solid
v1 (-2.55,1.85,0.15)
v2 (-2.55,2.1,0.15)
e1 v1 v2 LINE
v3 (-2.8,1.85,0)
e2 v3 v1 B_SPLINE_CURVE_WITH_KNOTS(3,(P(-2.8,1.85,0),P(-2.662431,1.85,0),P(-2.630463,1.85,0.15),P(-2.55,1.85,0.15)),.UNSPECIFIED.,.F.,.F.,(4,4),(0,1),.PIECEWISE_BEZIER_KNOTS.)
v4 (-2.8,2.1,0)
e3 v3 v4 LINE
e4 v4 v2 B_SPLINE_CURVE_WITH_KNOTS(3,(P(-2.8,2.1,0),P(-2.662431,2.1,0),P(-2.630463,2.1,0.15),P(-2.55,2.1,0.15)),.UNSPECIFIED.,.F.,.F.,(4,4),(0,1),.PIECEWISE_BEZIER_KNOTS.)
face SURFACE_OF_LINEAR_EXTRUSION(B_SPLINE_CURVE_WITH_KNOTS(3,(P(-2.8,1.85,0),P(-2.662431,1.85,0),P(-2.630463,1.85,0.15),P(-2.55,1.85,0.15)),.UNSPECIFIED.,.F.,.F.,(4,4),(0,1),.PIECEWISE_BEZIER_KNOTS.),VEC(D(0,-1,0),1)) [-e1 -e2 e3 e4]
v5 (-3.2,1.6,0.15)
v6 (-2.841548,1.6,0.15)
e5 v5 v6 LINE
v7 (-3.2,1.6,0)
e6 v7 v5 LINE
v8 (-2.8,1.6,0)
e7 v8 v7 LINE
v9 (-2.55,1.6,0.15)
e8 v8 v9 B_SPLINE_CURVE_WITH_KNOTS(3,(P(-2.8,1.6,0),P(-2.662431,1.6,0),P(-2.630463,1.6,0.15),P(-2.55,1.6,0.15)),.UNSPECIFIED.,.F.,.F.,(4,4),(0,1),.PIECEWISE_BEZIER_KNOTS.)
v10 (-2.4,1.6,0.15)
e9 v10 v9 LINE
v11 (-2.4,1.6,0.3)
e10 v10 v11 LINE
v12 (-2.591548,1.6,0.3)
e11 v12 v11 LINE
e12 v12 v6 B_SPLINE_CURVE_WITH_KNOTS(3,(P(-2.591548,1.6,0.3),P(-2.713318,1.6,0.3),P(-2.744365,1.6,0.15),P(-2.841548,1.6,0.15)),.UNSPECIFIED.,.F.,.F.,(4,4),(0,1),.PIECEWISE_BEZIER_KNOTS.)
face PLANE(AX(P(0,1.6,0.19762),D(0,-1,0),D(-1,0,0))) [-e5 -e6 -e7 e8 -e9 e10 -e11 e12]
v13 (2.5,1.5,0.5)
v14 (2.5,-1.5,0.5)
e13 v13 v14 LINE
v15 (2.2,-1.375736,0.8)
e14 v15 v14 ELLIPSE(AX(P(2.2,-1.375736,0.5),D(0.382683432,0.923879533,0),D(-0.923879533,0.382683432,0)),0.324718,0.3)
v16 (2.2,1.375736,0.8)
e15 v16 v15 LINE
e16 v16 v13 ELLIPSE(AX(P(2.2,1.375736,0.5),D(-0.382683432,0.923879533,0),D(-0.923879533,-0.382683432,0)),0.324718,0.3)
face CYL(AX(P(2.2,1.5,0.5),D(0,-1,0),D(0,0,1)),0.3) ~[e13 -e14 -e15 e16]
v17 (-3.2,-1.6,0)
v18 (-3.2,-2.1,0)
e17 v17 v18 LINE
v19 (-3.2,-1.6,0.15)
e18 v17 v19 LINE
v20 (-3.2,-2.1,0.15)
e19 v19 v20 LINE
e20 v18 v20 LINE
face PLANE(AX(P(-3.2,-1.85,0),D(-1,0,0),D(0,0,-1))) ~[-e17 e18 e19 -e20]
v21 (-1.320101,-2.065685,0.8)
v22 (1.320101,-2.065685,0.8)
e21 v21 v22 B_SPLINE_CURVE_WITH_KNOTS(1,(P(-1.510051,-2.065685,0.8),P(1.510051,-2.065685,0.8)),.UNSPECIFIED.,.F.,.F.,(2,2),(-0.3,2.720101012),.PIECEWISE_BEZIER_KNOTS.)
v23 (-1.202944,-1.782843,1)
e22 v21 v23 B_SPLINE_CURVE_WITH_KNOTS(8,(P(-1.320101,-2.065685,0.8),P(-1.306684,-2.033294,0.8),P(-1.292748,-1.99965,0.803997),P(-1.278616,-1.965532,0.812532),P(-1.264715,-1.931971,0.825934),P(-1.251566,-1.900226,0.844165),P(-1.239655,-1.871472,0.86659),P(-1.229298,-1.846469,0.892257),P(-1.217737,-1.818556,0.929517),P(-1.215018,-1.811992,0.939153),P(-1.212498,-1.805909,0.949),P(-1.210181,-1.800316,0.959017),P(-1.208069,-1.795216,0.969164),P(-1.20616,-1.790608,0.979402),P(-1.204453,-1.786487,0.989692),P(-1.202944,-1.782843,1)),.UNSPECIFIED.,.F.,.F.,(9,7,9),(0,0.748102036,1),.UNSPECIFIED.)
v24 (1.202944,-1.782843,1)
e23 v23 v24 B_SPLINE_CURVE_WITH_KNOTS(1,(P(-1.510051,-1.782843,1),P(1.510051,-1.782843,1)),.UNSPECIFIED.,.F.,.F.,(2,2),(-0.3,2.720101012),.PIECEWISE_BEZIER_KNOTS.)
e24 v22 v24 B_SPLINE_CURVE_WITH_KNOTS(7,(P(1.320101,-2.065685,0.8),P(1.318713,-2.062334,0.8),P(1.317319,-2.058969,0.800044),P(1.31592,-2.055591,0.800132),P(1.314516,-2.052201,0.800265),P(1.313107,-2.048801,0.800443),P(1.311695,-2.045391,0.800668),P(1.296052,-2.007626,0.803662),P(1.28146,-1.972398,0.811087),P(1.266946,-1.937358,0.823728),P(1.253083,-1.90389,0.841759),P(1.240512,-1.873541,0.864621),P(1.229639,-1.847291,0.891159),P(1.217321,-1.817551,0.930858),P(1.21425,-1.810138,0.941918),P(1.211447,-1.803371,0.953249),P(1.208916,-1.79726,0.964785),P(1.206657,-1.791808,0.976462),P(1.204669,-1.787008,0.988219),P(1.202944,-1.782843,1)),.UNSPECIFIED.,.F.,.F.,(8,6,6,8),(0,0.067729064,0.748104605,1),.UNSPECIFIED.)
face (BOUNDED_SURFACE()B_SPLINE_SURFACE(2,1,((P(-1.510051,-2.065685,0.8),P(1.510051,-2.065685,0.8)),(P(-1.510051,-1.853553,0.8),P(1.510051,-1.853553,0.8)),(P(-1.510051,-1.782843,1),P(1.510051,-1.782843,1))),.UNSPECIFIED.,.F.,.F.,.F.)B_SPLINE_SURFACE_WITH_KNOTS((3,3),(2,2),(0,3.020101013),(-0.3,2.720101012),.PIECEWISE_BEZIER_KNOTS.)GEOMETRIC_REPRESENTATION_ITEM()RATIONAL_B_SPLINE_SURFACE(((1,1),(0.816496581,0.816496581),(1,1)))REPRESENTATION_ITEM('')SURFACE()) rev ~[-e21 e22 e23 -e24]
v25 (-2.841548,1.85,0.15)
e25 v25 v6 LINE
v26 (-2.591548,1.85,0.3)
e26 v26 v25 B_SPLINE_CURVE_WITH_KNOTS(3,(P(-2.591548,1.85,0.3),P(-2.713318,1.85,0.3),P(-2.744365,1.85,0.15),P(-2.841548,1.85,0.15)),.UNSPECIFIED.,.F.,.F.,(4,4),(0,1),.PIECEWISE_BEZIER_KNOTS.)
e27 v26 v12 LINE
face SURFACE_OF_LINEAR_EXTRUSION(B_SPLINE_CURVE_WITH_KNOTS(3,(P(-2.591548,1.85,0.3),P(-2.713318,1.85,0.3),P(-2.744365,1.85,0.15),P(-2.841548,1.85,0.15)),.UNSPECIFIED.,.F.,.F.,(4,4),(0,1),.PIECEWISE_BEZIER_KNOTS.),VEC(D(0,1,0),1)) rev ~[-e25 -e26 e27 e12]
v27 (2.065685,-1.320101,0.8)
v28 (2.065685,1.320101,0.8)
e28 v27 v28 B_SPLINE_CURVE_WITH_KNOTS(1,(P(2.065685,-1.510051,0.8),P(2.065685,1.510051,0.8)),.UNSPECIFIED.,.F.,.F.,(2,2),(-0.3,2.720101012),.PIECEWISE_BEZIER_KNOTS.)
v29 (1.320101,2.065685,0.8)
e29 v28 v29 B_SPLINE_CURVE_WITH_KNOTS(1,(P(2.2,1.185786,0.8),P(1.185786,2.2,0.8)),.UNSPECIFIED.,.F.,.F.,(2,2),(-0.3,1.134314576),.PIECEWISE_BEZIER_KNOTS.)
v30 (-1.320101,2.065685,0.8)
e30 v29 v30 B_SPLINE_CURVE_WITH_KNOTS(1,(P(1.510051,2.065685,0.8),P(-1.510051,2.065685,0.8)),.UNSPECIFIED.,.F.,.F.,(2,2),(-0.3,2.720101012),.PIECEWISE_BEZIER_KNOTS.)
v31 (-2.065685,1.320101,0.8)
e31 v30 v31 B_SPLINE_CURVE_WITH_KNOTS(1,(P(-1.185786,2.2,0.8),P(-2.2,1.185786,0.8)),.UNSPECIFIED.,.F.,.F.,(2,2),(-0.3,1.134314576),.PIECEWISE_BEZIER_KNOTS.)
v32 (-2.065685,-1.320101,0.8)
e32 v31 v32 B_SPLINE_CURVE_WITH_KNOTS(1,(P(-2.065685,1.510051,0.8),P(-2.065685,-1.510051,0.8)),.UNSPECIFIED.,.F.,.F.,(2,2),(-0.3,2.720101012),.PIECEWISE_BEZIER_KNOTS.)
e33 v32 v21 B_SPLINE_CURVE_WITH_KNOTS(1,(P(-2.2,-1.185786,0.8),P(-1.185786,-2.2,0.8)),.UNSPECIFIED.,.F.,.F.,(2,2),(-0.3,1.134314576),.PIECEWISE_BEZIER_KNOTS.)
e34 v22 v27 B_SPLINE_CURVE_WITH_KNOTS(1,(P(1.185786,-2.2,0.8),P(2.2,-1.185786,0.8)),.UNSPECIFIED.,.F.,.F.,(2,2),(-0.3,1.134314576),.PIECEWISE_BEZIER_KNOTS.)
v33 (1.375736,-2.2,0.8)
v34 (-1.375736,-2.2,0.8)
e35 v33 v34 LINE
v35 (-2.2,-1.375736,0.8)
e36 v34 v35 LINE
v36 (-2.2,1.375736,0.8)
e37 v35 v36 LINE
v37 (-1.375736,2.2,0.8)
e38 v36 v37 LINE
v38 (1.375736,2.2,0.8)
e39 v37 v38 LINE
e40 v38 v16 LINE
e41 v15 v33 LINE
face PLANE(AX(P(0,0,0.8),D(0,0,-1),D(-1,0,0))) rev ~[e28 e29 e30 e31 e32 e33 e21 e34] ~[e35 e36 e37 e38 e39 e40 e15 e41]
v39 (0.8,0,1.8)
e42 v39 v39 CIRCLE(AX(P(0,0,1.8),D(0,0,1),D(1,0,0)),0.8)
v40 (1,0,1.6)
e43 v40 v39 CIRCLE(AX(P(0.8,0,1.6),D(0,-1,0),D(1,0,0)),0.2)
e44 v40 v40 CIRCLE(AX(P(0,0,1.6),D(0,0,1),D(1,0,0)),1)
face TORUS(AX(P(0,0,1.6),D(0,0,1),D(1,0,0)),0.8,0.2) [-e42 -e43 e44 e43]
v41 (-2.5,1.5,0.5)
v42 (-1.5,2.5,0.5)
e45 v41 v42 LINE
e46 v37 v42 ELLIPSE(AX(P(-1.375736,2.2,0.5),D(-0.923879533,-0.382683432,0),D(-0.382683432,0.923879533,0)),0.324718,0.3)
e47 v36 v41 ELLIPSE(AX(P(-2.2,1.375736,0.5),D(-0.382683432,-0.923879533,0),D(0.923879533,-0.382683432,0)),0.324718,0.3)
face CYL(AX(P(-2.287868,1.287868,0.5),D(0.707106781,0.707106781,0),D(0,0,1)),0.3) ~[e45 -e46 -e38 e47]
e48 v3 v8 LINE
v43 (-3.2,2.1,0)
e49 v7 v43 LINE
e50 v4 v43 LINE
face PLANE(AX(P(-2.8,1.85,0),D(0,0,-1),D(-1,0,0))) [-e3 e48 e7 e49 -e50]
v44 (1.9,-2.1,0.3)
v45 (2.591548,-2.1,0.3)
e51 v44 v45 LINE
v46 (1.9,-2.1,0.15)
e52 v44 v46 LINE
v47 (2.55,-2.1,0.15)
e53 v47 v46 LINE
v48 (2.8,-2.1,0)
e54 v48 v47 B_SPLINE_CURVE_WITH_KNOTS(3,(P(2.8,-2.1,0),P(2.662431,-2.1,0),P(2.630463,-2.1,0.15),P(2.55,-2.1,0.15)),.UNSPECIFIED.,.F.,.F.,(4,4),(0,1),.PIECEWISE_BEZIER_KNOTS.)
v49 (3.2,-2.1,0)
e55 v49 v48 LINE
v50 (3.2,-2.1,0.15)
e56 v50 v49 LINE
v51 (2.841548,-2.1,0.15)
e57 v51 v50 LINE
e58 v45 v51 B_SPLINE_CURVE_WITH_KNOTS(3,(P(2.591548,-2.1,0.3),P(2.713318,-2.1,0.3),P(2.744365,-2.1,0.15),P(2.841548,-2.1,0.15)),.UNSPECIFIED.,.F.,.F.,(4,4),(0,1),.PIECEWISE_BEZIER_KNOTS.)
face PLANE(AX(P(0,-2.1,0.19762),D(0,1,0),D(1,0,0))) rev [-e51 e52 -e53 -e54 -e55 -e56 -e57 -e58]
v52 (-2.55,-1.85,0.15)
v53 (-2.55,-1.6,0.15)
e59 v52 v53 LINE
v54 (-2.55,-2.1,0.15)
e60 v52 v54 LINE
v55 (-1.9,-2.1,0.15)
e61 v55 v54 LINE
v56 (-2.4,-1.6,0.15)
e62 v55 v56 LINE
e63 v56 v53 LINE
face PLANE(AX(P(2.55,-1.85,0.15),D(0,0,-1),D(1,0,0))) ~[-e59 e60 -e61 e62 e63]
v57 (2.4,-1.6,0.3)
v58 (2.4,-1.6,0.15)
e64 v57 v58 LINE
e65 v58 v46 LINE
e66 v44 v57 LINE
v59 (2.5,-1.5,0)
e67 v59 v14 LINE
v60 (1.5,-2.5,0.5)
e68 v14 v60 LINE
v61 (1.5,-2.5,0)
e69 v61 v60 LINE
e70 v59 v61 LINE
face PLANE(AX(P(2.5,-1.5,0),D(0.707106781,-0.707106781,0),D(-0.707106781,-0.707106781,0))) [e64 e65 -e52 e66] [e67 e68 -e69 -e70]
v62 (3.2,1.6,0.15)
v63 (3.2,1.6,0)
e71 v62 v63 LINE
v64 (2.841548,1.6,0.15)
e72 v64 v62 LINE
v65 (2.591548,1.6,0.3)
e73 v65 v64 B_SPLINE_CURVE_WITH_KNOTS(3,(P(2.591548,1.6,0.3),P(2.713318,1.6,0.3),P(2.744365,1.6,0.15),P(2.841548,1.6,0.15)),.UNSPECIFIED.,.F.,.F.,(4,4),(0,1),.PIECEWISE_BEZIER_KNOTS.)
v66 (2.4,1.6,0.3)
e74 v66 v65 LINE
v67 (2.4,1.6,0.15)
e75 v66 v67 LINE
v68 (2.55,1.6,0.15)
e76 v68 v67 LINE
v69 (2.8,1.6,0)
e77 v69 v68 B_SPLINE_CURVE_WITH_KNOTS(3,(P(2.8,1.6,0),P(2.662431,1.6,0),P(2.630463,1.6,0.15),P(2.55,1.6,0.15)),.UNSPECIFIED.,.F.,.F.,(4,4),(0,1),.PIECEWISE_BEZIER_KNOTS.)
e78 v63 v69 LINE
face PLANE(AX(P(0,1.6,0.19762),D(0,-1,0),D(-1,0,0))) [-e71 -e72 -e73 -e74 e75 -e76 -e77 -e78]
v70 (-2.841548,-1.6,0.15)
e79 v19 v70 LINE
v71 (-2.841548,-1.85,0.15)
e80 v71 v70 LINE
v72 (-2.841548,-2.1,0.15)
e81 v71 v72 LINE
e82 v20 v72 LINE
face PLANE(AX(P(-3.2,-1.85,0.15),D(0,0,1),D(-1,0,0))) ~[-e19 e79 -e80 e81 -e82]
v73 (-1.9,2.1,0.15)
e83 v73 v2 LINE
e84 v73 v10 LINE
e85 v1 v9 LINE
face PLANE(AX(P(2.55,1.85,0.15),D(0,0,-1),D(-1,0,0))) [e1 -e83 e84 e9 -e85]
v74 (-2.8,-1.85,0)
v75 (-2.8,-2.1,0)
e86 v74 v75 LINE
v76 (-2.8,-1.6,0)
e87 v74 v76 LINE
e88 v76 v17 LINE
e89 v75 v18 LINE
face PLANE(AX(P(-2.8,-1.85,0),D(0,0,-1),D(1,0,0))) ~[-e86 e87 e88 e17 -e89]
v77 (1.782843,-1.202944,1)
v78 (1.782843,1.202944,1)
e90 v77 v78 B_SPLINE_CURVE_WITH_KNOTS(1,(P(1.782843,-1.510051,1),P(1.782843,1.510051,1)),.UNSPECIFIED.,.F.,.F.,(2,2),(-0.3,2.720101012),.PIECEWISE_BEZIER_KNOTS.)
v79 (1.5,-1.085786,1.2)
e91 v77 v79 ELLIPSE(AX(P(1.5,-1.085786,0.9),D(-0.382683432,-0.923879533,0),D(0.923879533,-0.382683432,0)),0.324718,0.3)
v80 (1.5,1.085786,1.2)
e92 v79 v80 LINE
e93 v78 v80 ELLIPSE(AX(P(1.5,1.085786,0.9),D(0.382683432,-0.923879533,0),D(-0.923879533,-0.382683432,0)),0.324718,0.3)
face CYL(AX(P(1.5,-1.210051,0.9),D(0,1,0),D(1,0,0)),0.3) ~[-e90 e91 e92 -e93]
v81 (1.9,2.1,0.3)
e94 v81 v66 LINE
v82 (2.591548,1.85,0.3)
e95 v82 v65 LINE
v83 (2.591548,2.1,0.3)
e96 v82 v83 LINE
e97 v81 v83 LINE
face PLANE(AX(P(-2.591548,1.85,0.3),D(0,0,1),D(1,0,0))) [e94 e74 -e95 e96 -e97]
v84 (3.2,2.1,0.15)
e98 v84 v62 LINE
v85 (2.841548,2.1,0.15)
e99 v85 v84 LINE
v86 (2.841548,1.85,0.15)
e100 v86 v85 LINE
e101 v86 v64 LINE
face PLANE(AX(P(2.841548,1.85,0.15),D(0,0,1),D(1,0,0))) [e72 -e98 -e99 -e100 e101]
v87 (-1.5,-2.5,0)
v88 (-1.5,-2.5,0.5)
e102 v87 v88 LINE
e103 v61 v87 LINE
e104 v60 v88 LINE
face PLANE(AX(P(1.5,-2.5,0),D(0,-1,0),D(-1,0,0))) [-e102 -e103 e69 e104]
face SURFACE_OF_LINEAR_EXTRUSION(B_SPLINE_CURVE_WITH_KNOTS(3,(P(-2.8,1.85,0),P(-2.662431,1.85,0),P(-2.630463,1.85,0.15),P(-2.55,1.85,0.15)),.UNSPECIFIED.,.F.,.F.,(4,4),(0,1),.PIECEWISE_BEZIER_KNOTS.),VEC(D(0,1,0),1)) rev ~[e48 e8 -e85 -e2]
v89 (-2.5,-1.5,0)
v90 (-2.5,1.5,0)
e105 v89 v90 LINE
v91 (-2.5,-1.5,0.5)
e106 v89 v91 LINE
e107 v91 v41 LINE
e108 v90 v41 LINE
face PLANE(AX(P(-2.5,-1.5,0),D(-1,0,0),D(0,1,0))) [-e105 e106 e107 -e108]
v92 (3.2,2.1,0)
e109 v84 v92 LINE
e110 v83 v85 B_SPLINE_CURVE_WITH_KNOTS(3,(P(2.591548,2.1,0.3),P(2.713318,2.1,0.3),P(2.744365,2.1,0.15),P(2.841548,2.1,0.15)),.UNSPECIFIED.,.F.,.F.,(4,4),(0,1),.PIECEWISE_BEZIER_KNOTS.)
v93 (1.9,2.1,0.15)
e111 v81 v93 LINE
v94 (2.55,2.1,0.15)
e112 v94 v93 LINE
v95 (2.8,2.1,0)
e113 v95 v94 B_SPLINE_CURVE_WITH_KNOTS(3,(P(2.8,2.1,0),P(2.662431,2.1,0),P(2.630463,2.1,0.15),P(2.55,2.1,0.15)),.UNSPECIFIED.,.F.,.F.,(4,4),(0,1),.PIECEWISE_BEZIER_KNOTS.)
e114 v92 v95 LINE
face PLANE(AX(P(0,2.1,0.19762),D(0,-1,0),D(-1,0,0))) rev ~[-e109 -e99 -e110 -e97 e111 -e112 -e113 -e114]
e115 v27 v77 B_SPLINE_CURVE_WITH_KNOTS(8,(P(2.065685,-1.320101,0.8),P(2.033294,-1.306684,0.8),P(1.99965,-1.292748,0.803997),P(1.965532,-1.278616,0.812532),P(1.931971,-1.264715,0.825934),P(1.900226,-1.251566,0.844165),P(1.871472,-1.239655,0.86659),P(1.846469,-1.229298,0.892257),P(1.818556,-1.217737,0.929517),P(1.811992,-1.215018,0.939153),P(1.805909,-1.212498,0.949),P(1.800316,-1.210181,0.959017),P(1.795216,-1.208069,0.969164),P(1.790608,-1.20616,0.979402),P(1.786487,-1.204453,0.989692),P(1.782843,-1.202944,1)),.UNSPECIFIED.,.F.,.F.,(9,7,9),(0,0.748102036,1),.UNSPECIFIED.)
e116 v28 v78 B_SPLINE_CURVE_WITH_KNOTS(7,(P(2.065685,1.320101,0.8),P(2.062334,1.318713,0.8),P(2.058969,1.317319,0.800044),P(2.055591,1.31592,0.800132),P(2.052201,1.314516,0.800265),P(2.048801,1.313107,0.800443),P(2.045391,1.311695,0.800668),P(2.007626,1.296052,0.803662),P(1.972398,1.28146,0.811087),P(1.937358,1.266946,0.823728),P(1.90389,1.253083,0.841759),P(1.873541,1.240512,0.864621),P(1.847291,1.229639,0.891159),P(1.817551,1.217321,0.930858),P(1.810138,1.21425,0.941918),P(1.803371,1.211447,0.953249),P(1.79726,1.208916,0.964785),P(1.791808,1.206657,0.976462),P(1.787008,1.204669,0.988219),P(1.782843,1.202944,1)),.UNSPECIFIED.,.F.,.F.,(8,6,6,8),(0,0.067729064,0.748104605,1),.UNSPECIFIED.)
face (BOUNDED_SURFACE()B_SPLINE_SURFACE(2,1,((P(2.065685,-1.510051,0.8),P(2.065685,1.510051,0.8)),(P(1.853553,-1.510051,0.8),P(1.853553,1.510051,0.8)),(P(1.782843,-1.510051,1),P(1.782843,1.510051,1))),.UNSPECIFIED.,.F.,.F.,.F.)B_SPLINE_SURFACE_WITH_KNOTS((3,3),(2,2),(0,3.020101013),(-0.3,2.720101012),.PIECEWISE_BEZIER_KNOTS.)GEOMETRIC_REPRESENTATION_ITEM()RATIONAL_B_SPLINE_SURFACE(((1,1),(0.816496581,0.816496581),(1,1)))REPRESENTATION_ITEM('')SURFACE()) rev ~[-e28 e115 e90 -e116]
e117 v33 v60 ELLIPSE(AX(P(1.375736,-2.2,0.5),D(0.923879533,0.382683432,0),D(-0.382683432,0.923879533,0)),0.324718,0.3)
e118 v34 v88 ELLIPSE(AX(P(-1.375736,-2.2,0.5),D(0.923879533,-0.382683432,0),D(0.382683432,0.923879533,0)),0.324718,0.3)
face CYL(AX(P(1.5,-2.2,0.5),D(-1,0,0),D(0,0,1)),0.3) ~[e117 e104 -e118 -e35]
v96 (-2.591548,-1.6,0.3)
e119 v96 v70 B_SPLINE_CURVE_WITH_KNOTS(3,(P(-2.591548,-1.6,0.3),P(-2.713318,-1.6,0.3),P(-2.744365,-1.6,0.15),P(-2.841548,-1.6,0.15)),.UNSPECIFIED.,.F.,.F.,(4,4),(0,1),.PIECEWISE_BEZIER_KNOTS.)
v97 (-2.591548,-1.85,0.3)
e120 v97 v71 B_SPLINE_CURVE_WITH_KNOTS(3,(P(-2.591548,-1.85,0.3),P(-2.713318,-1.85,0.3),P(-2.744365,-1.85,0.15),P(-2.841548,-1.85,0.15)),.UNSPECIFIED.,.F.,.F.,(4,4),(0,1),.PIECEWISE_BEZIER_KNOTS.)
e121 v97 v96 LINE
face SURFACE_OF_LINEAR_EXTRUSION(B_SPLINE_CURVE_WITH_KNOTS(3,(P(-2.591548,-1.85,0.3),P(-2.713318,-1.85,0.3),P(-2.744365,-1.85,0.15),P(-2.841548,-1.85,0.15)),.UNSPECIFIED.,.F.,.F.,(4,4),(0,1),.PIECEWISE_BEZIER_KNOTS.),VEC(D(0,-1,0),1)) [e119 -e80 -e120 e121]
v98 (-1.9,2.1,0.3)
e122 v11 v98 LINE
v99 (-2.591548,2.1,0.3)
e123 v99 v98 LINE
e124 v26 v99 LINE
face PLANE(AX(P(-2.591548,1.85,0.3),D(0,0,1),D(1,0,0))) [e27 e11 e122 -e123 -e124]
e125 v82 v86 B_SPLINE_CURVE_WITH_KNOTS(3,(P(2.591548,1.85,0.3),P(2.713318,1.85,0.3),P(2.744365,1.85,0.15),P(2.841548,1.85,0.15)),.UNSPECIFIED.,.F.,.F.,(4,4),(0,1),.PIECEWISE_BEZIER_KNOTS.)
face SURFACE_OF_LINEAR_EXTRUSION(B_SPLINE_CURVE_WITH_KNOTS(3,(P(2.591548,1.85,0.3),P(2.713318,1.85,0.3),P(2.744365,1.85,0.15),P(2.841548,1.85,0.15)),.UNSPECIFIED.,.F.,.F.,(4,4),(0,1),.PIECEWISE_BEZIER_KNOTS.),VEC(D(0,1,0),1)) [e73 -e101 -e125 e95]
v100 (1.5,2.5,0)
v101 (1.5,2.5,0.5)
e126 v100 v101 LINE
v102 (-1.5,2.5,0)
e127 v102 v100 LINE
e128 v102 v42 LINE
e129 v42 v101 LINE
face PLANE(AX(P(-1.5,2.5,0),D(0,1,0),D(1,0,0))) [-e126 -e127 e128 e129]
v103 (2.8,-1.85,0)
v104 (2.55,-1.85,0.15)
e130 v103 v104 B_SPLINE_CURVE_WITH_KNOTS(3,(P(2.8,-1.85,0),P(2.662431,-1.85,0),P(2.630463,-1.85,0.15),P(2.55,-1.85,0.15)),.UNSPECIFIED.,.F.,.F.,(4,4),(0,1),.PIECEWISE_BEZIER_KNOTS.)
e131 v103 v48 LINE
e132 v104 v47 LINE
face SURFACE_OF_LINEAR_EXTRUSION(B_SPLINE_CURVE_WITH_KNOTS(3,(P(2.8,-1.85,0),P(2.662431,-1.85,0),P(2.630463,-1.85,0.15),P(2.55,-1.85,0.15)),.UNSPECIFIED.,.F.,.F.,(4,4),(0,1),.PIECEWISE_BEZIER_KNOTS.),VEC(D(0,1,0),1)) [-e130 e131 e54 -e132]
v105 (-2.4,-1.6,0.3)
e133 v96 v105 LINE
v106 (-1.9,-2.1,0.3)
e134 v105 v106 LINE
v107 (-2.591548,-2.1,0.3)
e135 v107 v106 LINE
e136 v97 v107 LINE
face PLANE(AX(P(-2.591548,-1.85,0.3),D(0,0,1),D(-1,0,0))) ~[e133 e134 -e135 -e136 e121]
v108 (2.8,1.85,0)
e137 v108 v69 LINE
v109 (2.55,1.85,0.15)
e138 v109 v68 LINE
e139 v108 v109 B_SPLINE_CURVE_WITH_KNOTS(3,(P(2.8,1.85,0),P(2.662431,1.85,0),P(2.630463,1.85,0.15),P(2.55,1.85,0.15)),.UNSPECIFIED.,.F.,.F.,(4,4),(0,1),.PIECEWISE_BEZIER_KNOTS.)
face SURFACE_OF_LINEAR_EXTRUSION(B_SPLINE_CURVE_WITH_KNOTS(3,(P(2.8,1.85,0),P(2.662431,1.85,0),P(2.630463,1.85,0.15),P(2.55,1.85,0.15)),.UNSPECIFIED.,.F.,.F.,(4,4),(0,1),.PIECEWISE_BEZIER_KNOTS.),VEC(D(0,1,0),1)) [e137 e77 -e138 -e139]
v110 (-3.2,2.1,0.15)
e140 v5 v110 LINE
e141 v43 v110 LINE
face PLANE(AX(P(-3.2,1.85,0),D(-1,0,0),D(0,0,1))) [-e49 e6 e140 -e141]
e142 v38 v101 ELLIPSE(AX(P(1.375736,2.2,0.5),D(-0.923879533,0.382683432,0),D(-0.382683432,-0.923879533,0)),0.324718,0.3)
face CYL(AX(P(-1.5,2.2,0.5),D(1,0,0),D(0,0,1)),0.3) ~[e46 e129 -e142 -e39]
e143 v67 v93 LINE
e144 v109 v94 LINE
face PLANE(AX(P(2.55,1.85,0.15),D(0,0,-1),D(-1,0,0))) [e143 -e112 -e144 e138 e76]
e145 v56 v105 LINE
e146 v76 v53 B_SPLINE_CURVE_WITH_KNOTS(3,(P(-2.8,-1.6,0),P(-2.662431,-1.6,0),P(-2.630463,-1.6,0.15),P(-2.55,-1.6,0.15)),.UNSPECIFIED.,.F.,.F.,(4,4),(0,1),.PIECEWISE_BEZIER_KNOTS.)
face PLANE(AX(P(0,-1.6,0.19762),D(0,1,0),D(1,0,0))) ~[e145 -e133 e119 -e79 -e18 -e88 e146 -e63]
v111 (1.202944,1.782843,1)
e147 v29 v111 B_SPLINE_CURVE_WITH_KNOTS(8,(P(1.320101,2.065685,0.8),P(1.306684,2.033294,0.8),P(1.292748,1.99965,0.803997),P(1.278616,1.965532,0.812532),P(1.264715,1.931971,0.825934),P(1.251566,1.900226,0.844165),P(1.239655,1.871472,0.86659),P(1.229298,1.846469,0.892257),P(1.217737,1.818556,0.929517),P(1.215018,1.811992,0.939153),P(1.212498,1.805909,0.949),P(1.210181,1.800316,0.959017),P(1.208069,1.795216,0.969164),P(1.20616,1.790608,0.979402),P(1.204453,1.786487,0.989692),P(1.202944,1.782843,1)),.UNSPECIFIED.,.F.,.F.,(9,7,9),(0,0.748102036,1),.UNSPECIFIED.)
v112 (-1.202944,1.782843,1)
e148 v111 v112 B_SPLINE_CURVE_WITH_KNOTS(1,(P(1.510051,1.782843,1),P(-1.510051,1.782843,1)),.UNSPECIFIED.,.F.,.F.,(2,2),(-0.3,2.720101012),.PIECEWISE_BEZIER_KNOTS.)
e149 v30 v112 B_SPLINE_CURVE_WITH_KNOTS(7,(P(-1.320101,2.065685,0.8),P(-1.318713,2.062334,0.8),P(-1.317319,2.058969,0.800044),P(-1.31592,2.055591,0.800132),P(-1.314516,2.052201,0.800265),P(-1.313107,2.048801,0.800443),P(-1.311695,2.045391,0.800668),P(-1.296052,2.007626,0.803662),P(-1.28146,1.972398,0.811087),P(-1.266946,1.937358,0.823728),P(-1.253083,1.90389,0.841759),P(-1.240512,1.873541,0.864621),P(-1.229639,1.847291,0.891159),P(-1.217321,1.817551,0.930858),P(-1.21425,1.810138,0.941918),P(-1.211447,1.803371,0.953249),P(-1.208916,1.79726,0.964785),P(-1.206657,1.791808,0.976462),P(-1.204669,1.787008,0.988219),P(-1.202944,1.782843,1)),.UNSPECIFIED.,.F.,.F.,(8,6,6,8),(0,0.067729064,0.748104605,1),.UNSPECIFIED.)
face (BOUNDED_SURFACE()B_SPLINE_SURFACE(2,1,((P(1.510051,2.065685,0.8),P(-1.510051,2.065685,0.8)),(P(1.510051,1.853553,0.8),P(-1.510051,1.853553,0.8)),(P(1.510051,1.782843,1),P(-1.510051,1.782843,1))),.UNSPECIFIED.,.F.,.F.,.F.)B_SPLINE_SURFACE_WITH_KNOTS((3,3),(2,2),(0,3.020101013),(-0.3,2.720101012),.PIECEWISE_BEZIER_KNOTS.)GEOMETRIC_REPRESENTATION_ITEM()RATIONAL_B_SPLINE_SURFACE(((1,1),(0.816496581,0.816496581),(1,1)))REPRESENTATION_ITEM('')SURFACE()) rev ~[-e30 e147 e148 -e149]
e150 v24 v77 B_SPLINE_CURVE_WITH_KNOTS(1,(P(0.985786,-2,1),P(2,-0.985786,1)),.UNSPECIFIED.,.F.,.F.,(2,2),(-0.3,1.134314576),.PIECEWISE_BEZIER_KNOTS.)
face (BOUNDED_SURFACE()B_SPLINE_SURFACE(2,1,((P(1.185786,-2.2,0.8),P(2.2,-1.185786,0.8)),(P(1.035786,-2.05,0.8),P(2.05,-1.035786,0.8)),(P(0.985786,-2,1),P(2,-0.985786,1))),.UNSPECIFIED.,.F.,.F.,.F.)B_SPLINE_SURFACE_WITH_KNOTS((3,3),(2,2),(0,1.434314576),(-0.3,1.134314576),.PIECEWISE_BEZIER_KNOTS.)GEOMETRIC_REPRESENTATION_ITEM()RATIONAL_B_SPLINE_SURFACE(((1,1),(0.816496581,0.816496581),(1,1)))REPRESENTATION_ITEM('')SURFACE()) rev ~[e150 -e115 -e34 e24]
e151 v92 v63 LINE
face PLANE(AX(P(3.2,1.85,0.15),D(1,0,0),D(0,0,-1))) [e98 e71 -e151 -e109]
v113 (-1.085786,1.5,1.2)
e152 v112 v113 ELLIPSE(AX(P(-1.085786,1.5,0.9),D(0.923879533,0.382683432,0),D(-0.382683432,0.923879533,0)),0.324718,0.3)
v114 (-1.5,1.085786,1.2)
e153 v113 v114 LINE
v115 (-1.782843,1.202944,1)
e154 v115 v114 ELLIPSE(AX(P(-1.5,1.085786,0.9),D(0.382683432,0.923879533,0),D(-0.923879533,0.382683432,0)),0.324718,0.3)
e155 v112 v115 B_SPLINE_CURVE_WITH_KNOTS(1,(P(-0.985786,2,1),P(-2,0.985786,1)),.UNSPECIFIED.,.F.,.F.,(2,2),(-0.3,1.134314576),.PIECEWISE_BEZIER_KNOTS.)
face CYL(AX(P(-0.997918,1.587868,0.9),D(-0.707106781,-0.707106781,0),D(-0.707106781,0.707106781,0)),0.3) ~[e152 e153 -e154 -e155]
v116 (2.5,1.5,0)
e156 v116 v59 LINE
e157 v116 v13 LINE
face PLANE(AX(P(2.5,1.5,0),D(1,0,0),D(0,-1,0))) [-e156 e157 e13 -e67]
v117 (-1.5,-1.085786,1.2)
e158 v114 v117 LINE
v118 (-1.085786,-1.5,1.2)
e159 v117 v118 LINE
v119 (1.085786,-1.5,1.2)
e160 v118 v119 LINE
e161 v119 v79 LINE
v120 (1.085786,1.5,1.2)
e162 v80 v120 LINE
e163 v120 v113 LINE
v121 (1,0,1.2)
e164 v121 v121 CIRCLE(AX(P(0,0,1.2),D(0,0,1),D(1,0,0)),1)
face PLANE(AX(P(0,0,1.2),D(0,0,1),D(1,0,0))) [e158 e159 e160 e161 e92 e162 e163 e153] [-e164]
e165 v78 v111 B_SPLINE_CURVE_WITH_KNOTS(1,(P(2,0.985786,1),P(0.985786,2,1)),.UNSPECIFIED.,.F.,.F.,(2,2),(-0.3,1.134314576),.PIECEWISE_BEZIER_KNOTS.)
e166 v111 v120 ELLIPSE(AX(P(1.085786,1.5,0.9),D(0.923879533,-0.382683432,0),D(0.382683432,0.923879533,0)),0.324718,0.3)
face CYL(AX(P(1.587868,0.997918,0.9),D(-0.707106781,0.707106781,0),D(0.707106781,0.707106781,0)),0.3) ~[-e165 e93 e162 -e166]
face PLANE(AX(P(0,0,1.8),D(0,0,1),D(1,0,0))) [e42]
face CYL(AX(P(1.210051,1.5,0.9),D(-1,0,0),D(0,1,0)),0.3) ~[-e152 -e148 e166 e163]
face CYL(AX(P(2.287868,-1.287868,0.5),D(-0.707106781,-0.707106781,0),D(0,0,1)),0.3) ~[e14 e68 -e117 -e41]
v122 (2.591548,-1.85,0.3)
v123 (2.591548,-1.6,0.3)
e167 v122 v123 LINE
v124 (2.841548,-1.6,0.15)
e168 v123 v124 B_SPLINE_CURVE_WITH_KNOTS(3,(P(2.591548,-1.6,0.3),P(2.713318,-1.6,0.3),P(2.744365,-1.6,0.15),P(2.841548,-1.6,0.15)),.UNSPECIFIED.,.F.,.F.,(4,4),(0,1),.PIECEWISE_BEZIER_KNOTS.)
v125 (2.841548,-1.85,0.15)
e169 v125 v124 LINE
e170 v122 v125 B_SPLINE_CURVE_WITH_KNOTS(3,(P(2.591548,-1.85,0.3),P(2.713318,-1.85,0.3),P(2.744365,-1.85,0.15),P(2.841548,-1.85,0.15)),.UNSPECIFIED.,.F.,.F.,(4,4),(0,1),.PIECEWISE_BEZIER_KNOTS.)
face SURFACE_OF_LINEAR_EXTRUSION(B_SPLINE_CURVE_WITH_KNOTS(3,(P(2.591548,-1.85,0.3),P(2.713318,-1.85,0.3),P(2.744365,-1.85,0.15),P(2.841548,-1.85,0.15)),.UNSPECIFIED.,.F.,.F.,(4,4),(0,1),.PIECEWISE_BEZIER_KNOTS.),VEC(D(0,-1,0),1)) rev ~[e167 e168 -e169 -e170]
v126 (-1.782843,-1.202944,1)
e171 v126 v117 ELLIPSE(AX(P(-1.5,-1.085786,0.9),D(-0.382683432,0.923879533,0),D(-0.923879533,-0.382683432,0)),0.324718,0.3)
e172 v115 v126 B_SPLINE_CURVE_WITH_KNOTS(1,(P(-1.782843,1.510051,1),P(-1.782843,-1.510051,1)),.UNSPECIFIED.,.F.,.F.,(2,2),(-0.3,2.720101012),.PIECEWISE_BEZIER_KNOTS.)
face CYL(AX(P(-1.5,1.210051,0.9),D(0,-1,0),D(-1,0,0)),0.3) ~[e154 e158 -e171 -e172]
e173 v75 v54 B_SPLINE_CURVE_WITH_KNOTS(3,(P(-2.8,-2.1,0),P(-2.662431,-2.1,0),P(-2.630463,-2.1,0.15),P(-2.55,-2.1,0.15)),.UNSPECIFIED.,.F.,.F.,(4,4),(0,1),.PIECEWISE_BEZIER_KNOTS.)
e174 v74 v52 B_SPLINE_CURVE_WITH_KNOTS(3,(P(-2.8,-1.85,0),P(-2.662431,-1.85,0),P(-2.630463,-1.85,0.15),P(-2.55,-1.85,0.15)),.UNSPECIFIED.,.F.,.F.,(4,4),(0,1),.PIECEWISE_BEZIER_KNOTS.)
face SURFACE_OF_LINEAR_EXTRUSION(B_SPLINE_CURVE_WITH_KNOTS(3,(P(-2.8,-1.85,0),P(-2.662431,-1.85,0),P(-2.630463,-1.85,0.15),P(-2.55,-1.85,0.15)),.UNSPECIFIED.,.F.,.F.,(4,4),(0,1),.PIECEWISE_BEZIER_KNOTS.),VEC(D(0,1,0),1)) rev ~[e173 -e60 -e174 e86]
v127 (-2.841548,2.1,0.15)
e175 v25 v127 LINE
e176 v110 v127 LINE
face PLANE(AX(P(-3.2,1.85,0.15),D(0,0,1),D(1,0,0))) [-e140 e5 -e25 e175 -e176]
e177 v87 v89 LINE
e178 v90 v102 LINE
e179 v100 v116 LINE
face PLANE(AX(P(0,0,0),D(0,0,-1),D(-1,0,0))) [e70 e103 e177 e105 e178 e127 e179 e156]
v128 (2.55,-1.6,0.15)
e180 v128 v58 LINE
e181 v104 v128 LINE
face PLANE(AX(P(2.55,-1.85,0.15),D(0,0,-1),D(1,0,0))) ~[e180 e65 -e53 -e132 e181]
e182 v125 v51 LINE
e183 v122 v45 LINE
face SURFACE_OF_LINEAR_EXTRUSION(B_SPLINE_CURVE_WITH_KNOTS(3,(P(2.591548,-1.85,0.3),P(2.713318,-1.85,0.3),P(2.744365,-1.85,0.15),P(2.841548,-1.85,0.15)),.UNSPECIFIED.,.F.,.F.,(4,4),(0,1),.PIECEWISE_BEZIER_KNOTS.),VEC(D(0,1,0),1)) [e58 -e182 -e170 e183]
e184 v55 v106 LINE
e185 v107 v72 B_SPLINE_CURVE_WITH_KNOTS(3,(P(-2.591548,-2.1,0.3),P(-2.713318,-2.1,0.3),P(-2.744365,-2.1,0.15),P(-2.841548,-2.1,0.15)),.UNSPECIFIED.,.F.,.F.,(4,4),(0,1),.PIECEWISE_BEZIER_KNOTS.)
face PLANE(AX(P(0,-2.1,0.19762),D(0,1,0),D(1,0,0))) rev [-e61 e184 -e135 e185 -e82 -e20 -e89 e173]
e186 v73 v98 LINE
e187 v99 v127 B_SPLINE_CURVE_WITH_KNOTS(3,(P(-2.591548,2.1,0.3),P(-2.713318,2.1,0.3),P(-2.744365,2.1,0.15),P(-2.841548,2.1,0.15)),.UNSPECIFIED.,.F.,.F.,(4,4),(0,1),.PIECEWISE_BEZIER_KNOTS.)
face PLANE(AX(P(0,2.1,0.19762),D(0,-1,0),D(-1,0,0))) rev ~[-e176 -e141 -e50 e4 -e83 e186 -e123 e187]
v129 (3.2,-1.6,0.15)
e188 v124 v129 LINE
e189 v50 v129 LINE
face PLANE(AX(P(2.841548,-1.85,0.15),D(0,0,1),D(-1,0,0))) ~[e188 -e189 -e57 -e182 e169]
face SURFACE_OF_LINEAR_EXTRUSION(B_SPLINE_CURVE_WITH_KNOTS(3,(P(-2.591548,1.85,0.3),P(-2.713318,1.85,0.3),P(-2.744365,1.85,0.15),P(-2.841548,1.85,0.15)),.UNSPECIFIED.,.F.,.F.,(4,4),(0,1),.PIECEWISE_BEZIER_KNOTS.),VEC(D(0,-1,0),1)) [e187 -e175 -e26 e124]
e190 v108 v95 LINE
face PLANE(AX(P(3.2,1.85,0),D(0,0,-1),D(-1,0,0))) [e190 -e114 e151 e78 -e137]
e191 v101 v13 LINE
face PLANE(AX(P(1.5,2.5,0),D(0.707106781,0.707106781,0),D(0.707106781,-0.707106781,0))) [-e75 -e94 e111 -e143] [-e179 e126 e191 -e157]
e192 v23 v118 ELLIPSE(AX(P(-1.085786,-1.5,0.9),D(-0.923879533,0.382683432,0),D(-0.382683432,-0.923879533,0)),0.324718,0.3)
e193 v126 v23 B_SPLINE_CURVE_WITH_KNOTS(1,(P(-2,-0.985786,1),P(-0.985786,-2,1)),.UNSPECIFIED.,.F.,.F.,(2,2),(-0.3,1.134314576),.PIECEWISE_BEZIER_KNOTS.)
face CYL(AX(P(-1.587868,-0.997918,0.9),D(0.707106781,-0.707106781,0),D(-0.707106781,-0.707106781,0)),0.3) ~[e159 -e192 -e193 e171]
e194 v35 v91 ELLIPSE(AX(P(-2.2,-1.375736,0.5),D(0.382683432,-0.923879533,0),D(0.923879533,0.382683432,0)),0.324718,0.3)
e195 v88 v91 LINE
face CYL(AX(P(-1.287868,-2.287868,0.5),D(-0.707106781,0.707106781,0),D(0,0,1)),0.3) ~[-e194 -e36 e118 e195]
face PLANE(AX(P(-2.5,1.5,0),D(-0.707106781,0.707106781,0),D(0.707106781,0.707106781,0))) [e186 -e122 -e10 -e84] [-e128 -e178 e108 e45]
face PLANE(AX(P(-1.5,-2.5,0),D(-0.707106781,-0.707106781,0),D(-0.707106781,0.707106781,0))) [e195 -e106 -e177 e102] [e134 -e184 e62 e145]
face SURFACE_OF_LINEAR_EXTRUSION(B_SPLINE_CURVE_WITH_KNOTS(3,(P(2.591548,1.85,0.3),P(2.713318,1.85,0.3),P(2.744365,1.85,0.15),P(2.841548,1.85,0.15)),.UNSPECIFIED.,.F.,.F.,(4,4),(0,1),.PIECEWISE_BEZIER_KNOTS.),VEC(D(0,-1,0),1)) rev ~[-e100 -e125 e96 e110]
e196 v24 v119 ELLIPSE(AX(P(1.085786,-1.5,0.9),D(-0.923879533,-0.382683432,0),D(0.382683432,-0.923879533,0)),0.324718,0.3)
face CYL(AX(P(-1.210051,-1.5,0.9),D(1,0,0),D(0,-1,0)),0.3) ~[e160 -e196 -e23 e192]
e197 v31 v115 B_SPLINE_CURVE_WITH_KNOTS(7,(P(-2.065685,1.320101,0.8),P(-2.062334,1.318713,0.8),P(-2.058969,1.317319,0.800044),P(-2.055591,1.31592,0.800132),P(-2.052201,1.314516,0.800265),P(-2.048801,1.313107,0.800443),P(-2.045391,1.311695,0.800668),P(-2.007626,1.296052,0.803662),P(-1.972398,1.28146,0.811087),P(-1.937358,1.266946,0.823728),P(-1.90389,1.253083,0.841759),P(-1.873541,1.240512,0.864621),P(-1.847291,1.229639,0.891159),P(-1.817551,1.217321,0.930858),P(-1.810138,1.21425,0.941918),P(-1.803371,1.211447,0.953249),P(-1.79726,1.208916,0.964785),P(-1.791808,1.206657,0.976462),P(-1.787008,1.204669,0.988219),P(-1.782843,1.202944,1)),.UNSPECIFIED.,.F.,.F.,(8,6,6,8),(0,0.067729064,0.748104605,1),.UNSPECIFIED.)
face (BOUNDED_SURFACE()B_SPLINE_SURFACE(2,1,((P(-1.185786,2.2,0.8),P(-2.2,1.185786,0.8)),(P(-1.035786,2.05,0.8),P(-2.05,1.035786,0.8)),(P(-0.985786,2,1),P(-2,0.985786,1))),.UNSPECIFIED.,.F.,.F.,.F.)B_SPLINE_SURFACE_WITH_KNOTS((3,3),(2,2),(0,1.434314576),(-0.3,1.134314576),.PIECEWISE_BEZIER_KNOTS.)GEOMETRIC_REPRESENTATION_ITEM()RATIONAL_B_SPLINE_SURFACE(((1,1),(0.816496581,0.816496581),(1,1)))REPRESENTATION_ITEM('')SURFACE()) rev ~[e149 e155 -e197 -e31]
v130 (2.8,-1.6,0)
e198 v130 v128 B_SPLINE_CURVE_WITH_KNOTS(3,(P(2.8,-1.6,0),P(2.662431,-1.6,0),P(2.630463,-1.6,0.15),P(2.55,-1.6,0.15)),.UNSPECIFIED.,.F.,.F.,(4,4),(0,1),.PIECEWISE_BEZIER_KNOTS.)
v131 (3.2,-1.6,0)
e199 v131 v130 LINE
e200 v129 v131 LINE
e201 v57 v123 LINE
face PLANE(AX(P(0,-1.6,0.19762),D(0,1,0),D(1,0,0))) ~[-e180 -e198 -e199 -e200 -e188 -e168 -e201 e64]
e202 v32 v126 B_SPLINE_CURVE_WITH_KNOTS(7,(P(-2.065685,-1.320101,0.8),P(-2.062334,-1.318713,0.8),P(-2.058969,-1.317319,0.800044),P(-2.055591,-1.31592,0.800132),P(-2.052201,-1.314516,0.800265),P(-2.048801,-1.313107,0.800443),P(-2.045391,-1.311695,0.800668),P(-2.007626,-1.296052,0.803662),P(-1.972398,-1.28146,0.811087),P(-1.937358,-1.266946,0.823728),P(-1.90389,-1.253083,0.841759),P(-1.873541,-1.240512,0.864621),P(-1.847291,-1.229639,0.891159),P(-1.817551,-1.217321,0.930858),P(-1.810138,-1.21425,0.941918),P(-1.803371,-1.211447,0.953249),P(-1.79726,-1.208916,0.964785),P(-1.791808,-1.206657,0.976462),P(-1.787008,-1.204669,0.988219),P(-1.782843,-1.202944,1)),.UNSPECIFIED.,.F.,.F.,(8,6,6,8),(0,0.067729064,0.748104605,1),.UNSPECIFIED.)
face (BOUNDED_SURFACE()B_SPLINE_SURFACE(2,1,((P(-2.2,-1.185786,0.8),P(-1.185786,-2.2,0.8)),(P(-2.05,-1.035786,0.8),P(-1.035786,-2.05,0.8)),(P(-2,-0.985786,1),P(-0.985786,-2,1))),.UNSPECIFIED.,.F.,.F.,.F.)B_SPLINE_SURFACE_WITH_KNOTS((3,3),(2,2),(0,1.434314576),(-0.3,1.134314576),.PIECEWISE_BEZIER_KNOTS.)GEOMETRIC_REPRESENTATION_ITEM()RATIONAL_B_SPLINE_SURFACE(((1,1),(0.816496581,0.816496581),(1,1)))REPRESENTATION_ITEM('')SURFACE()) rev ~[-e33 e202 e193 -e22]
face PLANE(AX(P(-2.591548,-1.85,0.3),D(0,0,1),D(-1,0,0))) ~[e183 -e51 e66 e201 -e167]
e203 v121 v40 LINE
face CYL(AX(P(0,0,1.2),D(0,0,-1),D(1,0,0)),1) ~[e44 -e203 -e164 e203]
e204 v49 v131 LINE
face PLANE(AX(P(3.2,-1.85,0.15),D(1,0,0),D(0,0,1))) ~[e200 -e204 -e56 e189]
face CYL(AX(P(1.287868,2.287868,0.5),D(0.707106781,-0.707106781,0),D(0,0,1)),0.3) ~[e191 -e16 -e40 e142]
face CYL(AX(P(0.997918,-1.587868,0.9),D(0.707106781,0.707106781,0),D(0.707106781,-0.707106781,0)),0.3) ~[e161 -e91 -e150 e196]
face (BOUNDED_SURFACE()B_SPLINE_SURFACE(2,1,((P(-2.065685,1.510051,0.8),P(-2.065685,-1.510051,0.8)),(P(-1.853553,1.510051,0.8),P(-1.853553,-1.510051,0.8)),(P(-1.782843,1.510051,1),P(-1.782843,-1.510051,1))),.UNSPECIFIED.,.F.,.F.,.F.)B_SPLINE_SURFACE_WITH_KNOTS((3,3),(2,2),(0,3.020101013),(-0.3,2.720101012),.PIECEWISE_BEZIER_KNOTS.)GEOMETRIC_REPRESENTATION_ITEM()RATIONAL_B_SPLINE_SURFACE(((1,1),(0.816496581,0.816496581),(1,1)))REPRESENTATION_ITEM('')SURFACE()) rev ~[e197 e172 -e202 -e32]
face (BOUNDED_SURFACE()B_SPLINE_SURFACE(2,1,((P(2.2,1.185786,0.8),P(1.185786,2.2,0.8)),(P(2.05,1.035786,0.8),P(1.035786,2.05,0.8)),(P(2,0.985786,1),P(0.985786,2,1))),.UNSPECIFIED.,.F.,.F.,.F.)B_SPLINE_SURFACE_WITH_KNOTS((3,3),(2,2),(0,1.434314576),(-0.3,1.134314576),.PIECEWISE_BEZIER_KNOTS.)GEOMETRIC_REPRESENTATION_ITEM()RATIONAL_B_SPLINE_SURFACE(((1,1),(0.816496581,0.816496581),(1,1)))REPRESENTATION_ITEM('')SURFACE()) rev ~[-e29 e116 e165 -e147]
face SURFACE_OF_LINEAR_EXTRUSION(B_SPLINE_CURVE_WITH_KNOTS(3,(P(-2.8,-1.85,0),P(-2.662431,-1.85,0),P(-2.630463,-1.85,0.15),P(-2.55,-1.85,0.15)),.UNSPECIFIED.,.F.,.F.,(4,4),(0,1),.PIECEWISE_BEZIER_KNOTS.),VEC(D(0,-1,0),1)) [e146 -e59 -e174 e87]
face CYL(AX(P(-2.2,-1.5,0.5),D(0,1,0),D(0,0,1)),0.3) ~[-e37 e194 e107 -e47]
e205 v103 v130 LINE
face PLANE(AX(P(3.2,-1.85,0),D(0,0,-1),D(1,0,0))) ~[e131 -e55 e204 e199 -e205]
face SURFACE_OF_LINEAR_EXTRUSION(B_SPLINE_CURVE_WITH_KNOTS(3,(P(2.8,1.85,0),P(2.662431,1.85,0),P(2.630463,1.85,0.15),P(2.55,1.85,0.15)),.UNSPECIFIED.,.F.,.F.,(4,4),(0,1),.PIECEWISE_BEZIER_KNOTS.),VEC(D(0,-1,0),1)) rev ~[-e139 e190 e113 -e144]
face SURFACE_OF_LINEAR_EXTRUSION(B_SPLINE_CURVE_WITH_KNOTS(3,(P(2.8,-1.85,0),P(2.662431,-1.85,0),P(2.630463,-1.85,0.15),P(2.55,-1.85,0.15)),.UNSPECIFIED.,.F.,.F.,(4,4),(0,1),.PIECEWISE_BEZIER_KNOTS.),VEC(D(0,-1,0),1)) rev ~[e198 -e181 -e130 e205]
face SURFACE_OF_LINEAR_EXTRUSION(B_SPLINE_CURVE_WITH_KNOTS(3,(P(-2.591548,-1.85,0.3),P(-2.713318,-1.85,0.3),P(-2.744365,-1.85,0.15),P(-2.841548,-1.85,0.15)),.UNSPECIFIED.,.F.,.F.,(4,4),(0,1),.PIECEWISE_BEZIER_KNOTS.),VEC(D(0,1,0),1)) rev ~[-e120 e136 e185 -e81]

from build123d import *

# Parameters (mm, degrees)
BOSS_EXTRUDE1_DEPTH = 0.8
BOSS_EXTRUDE2_DEPTH = 0.4
SKETCH3_R           = 1
BOSS_EXTRUDE3_DEPTH = 0.6
FILLET1_R           = 0.3
FILLET2_R           = 0.3
FILLET3_R           = 0.3
FILLET4_R           = 0.2
BOSS_EXTRUDE4_DEPTH = 0.25


with BuildPart() as part:
    # Sketch1 → Boss-Extrude1 (new body)
    with BuildSketch(Plane.XY):
        Polygon((-1.5, 2.5), (1.5, 2.5), (2.5, 1.5), (2.5, -1.5), (1.5, -2.5), (-1.5, -2.5), (-2.5, -1.5), (-2.5, 1.5), align=None)
    extrude(amount=BOSS_EXTRUDE1_DEPTH)

    # Sketch2 → Boss-Extrude2 (add)
    with BuildSketch(Plane.XY.offset(0.8)):
        Polygon((-1.210050506, 1.8), (-1.8, 1.210050506), (-1.8, -1.210050506), (-1.210050506, -1.8), (1.210050506, -1.8), (1.8, -1.210050506), (1.8, 1.210050506), (1.210050506, 1.8), align=None)
    extrude(amount=BOSS_EXTRUDE2_DEPTH)

    # Sketch3 → Boss-Extrude3 (add)
    with BuildSketch(Plane.XY.offset(1.2)):
        Circle(SKETCH3_R)
    extrude(amount=BOSS_EXTRUDE3_DEPTH)

    # Fillet1
    fillet1_edges = [part.edges().sort_by_distance(p)[0] for p in [
        (1.505025253, 1.505025253, 1.2),
        (0, 1.8, 1.2),
        (-1.505025253, 1.505025253, 1.2),
        (-1.8, 0, 1.2),
        (-1.505025253, -1.505025253, 1.2),
        (0, -1.8, 1.2),
        (1.505025253, -1.505025253, 1.2),
        (1.8, 0, 1.2),
    ]]
    fillet(fillet1_edges, radius=FILLET1_R)

    # Fillet2
    fillet2_edges = [part.edges().sort_by_distance(p)[0] for p in [
        (-2, 2, 0.8),
        (-2.5, 0, 0.8),
        (-2, -2, 0.8),
        (0, -2.5, 0.8),
        (2, -2, 0.8),
        (2.5, 0, 0.8),
        (2, 2, 0.8),
        (0, 2.5, 0.8),
    ]]
    fillet(fillet2_edges, radius=FILLET2_R)

    # Fillet3
    fillet3_edges = [part.edges().sort_by_distance(p)[0] for p in [
        (0, -1.8, 0.8),
        (1.505025253, -1.505025253, 0.8),
        (1.8, 0, 0.8),
        (1.505025253, 1.505025253, 0.8),
        (0, 1.8, 0.8),
        (-1.505025253, 1.505025253, 0.8),
        (-1.8, 0, 0.8),
        (-1.505025253, -1.505025253, 0.8),
    ]]
    fillet(fillet3_edges, radius=FILLET3_R)

    # Fillet4
    fillet4_edges = [part.edges().sort_by_distance(p)[0] for p in [
        (-1, 0, 1.8),
    ]]
    fillet(fillet4_edges, radius=FILLET4_R)

    # Sketch4 → Boss-Extrude4 (add, symmetric)
    with BuildSketch(Plane(origin=(0, 1.85, 0), x_dir=(1, 0, 0), z_dir=(0, 1, 0))):
        with BuildLine():
            Line((0, -0.15), (-2.55, -0.15))
            add(Edge.make_bspline(
                [(-2.8, 0), (-2.662431202, 0), (-2.630462892, -0.15), (-2.55, -0.15)],
                knots=[0, 0, 0, 0, 1, 1, 1, 1], degree=3))
            Line((-2.8, 0), (-3.2, 0))
            Line((-3.2, 0), (-3.2, -0.15))
            Line((-3.2, -0.15), (-2.841547595, -0.15))
            add(Edge.make_bspline(
                [(-2.591547595, -0.3), (-2.713318055, -0.3), (-2.744365063, -0.15), (-2.841547595, -0.15)],
                knots=[0, 0, 0, 0, 1, 1, 1, 1], degree=3))
            Line((-2.591547595, -0.3), (0, -0.3))
            Line((0, -0.3), (2.591547595, -0.3))
            add(Edge.make_bspline(
                [(2.591547595, -0.3), (2.713318055, -0.3), (2.744365063, -0.15), (2.841547595, -0.15)],
                knots=[0, 0, 0, 0, 1, 1, 1, 1], degree=3))
            Line((2.841547595, -0.15), (3.2, -0.15))
            Line((3.2, -0.15), (3.2, 0))
            Line((3.2, 0), (2.8, 0))
            add(Edge.make_bspline(
                [(2.8, 0), (2.662431202, 0), (2.630462892, -0.15), (2.55, -0.15)],
                knots=[0, 0, 0, 0, 1, 1, 1, 1], degree=3))
            Line((2.55, -0.15), (0, -0.15))
        make_face()
    boss_extrude4 = extrude(amount=BOSS_EXTRUDE4_DEPTH, both=True)

    # Mirror1: Boss-Extrude4 across plane
    add(boss_extrude4.mirror(Plane.ZX))


solid = part.part
